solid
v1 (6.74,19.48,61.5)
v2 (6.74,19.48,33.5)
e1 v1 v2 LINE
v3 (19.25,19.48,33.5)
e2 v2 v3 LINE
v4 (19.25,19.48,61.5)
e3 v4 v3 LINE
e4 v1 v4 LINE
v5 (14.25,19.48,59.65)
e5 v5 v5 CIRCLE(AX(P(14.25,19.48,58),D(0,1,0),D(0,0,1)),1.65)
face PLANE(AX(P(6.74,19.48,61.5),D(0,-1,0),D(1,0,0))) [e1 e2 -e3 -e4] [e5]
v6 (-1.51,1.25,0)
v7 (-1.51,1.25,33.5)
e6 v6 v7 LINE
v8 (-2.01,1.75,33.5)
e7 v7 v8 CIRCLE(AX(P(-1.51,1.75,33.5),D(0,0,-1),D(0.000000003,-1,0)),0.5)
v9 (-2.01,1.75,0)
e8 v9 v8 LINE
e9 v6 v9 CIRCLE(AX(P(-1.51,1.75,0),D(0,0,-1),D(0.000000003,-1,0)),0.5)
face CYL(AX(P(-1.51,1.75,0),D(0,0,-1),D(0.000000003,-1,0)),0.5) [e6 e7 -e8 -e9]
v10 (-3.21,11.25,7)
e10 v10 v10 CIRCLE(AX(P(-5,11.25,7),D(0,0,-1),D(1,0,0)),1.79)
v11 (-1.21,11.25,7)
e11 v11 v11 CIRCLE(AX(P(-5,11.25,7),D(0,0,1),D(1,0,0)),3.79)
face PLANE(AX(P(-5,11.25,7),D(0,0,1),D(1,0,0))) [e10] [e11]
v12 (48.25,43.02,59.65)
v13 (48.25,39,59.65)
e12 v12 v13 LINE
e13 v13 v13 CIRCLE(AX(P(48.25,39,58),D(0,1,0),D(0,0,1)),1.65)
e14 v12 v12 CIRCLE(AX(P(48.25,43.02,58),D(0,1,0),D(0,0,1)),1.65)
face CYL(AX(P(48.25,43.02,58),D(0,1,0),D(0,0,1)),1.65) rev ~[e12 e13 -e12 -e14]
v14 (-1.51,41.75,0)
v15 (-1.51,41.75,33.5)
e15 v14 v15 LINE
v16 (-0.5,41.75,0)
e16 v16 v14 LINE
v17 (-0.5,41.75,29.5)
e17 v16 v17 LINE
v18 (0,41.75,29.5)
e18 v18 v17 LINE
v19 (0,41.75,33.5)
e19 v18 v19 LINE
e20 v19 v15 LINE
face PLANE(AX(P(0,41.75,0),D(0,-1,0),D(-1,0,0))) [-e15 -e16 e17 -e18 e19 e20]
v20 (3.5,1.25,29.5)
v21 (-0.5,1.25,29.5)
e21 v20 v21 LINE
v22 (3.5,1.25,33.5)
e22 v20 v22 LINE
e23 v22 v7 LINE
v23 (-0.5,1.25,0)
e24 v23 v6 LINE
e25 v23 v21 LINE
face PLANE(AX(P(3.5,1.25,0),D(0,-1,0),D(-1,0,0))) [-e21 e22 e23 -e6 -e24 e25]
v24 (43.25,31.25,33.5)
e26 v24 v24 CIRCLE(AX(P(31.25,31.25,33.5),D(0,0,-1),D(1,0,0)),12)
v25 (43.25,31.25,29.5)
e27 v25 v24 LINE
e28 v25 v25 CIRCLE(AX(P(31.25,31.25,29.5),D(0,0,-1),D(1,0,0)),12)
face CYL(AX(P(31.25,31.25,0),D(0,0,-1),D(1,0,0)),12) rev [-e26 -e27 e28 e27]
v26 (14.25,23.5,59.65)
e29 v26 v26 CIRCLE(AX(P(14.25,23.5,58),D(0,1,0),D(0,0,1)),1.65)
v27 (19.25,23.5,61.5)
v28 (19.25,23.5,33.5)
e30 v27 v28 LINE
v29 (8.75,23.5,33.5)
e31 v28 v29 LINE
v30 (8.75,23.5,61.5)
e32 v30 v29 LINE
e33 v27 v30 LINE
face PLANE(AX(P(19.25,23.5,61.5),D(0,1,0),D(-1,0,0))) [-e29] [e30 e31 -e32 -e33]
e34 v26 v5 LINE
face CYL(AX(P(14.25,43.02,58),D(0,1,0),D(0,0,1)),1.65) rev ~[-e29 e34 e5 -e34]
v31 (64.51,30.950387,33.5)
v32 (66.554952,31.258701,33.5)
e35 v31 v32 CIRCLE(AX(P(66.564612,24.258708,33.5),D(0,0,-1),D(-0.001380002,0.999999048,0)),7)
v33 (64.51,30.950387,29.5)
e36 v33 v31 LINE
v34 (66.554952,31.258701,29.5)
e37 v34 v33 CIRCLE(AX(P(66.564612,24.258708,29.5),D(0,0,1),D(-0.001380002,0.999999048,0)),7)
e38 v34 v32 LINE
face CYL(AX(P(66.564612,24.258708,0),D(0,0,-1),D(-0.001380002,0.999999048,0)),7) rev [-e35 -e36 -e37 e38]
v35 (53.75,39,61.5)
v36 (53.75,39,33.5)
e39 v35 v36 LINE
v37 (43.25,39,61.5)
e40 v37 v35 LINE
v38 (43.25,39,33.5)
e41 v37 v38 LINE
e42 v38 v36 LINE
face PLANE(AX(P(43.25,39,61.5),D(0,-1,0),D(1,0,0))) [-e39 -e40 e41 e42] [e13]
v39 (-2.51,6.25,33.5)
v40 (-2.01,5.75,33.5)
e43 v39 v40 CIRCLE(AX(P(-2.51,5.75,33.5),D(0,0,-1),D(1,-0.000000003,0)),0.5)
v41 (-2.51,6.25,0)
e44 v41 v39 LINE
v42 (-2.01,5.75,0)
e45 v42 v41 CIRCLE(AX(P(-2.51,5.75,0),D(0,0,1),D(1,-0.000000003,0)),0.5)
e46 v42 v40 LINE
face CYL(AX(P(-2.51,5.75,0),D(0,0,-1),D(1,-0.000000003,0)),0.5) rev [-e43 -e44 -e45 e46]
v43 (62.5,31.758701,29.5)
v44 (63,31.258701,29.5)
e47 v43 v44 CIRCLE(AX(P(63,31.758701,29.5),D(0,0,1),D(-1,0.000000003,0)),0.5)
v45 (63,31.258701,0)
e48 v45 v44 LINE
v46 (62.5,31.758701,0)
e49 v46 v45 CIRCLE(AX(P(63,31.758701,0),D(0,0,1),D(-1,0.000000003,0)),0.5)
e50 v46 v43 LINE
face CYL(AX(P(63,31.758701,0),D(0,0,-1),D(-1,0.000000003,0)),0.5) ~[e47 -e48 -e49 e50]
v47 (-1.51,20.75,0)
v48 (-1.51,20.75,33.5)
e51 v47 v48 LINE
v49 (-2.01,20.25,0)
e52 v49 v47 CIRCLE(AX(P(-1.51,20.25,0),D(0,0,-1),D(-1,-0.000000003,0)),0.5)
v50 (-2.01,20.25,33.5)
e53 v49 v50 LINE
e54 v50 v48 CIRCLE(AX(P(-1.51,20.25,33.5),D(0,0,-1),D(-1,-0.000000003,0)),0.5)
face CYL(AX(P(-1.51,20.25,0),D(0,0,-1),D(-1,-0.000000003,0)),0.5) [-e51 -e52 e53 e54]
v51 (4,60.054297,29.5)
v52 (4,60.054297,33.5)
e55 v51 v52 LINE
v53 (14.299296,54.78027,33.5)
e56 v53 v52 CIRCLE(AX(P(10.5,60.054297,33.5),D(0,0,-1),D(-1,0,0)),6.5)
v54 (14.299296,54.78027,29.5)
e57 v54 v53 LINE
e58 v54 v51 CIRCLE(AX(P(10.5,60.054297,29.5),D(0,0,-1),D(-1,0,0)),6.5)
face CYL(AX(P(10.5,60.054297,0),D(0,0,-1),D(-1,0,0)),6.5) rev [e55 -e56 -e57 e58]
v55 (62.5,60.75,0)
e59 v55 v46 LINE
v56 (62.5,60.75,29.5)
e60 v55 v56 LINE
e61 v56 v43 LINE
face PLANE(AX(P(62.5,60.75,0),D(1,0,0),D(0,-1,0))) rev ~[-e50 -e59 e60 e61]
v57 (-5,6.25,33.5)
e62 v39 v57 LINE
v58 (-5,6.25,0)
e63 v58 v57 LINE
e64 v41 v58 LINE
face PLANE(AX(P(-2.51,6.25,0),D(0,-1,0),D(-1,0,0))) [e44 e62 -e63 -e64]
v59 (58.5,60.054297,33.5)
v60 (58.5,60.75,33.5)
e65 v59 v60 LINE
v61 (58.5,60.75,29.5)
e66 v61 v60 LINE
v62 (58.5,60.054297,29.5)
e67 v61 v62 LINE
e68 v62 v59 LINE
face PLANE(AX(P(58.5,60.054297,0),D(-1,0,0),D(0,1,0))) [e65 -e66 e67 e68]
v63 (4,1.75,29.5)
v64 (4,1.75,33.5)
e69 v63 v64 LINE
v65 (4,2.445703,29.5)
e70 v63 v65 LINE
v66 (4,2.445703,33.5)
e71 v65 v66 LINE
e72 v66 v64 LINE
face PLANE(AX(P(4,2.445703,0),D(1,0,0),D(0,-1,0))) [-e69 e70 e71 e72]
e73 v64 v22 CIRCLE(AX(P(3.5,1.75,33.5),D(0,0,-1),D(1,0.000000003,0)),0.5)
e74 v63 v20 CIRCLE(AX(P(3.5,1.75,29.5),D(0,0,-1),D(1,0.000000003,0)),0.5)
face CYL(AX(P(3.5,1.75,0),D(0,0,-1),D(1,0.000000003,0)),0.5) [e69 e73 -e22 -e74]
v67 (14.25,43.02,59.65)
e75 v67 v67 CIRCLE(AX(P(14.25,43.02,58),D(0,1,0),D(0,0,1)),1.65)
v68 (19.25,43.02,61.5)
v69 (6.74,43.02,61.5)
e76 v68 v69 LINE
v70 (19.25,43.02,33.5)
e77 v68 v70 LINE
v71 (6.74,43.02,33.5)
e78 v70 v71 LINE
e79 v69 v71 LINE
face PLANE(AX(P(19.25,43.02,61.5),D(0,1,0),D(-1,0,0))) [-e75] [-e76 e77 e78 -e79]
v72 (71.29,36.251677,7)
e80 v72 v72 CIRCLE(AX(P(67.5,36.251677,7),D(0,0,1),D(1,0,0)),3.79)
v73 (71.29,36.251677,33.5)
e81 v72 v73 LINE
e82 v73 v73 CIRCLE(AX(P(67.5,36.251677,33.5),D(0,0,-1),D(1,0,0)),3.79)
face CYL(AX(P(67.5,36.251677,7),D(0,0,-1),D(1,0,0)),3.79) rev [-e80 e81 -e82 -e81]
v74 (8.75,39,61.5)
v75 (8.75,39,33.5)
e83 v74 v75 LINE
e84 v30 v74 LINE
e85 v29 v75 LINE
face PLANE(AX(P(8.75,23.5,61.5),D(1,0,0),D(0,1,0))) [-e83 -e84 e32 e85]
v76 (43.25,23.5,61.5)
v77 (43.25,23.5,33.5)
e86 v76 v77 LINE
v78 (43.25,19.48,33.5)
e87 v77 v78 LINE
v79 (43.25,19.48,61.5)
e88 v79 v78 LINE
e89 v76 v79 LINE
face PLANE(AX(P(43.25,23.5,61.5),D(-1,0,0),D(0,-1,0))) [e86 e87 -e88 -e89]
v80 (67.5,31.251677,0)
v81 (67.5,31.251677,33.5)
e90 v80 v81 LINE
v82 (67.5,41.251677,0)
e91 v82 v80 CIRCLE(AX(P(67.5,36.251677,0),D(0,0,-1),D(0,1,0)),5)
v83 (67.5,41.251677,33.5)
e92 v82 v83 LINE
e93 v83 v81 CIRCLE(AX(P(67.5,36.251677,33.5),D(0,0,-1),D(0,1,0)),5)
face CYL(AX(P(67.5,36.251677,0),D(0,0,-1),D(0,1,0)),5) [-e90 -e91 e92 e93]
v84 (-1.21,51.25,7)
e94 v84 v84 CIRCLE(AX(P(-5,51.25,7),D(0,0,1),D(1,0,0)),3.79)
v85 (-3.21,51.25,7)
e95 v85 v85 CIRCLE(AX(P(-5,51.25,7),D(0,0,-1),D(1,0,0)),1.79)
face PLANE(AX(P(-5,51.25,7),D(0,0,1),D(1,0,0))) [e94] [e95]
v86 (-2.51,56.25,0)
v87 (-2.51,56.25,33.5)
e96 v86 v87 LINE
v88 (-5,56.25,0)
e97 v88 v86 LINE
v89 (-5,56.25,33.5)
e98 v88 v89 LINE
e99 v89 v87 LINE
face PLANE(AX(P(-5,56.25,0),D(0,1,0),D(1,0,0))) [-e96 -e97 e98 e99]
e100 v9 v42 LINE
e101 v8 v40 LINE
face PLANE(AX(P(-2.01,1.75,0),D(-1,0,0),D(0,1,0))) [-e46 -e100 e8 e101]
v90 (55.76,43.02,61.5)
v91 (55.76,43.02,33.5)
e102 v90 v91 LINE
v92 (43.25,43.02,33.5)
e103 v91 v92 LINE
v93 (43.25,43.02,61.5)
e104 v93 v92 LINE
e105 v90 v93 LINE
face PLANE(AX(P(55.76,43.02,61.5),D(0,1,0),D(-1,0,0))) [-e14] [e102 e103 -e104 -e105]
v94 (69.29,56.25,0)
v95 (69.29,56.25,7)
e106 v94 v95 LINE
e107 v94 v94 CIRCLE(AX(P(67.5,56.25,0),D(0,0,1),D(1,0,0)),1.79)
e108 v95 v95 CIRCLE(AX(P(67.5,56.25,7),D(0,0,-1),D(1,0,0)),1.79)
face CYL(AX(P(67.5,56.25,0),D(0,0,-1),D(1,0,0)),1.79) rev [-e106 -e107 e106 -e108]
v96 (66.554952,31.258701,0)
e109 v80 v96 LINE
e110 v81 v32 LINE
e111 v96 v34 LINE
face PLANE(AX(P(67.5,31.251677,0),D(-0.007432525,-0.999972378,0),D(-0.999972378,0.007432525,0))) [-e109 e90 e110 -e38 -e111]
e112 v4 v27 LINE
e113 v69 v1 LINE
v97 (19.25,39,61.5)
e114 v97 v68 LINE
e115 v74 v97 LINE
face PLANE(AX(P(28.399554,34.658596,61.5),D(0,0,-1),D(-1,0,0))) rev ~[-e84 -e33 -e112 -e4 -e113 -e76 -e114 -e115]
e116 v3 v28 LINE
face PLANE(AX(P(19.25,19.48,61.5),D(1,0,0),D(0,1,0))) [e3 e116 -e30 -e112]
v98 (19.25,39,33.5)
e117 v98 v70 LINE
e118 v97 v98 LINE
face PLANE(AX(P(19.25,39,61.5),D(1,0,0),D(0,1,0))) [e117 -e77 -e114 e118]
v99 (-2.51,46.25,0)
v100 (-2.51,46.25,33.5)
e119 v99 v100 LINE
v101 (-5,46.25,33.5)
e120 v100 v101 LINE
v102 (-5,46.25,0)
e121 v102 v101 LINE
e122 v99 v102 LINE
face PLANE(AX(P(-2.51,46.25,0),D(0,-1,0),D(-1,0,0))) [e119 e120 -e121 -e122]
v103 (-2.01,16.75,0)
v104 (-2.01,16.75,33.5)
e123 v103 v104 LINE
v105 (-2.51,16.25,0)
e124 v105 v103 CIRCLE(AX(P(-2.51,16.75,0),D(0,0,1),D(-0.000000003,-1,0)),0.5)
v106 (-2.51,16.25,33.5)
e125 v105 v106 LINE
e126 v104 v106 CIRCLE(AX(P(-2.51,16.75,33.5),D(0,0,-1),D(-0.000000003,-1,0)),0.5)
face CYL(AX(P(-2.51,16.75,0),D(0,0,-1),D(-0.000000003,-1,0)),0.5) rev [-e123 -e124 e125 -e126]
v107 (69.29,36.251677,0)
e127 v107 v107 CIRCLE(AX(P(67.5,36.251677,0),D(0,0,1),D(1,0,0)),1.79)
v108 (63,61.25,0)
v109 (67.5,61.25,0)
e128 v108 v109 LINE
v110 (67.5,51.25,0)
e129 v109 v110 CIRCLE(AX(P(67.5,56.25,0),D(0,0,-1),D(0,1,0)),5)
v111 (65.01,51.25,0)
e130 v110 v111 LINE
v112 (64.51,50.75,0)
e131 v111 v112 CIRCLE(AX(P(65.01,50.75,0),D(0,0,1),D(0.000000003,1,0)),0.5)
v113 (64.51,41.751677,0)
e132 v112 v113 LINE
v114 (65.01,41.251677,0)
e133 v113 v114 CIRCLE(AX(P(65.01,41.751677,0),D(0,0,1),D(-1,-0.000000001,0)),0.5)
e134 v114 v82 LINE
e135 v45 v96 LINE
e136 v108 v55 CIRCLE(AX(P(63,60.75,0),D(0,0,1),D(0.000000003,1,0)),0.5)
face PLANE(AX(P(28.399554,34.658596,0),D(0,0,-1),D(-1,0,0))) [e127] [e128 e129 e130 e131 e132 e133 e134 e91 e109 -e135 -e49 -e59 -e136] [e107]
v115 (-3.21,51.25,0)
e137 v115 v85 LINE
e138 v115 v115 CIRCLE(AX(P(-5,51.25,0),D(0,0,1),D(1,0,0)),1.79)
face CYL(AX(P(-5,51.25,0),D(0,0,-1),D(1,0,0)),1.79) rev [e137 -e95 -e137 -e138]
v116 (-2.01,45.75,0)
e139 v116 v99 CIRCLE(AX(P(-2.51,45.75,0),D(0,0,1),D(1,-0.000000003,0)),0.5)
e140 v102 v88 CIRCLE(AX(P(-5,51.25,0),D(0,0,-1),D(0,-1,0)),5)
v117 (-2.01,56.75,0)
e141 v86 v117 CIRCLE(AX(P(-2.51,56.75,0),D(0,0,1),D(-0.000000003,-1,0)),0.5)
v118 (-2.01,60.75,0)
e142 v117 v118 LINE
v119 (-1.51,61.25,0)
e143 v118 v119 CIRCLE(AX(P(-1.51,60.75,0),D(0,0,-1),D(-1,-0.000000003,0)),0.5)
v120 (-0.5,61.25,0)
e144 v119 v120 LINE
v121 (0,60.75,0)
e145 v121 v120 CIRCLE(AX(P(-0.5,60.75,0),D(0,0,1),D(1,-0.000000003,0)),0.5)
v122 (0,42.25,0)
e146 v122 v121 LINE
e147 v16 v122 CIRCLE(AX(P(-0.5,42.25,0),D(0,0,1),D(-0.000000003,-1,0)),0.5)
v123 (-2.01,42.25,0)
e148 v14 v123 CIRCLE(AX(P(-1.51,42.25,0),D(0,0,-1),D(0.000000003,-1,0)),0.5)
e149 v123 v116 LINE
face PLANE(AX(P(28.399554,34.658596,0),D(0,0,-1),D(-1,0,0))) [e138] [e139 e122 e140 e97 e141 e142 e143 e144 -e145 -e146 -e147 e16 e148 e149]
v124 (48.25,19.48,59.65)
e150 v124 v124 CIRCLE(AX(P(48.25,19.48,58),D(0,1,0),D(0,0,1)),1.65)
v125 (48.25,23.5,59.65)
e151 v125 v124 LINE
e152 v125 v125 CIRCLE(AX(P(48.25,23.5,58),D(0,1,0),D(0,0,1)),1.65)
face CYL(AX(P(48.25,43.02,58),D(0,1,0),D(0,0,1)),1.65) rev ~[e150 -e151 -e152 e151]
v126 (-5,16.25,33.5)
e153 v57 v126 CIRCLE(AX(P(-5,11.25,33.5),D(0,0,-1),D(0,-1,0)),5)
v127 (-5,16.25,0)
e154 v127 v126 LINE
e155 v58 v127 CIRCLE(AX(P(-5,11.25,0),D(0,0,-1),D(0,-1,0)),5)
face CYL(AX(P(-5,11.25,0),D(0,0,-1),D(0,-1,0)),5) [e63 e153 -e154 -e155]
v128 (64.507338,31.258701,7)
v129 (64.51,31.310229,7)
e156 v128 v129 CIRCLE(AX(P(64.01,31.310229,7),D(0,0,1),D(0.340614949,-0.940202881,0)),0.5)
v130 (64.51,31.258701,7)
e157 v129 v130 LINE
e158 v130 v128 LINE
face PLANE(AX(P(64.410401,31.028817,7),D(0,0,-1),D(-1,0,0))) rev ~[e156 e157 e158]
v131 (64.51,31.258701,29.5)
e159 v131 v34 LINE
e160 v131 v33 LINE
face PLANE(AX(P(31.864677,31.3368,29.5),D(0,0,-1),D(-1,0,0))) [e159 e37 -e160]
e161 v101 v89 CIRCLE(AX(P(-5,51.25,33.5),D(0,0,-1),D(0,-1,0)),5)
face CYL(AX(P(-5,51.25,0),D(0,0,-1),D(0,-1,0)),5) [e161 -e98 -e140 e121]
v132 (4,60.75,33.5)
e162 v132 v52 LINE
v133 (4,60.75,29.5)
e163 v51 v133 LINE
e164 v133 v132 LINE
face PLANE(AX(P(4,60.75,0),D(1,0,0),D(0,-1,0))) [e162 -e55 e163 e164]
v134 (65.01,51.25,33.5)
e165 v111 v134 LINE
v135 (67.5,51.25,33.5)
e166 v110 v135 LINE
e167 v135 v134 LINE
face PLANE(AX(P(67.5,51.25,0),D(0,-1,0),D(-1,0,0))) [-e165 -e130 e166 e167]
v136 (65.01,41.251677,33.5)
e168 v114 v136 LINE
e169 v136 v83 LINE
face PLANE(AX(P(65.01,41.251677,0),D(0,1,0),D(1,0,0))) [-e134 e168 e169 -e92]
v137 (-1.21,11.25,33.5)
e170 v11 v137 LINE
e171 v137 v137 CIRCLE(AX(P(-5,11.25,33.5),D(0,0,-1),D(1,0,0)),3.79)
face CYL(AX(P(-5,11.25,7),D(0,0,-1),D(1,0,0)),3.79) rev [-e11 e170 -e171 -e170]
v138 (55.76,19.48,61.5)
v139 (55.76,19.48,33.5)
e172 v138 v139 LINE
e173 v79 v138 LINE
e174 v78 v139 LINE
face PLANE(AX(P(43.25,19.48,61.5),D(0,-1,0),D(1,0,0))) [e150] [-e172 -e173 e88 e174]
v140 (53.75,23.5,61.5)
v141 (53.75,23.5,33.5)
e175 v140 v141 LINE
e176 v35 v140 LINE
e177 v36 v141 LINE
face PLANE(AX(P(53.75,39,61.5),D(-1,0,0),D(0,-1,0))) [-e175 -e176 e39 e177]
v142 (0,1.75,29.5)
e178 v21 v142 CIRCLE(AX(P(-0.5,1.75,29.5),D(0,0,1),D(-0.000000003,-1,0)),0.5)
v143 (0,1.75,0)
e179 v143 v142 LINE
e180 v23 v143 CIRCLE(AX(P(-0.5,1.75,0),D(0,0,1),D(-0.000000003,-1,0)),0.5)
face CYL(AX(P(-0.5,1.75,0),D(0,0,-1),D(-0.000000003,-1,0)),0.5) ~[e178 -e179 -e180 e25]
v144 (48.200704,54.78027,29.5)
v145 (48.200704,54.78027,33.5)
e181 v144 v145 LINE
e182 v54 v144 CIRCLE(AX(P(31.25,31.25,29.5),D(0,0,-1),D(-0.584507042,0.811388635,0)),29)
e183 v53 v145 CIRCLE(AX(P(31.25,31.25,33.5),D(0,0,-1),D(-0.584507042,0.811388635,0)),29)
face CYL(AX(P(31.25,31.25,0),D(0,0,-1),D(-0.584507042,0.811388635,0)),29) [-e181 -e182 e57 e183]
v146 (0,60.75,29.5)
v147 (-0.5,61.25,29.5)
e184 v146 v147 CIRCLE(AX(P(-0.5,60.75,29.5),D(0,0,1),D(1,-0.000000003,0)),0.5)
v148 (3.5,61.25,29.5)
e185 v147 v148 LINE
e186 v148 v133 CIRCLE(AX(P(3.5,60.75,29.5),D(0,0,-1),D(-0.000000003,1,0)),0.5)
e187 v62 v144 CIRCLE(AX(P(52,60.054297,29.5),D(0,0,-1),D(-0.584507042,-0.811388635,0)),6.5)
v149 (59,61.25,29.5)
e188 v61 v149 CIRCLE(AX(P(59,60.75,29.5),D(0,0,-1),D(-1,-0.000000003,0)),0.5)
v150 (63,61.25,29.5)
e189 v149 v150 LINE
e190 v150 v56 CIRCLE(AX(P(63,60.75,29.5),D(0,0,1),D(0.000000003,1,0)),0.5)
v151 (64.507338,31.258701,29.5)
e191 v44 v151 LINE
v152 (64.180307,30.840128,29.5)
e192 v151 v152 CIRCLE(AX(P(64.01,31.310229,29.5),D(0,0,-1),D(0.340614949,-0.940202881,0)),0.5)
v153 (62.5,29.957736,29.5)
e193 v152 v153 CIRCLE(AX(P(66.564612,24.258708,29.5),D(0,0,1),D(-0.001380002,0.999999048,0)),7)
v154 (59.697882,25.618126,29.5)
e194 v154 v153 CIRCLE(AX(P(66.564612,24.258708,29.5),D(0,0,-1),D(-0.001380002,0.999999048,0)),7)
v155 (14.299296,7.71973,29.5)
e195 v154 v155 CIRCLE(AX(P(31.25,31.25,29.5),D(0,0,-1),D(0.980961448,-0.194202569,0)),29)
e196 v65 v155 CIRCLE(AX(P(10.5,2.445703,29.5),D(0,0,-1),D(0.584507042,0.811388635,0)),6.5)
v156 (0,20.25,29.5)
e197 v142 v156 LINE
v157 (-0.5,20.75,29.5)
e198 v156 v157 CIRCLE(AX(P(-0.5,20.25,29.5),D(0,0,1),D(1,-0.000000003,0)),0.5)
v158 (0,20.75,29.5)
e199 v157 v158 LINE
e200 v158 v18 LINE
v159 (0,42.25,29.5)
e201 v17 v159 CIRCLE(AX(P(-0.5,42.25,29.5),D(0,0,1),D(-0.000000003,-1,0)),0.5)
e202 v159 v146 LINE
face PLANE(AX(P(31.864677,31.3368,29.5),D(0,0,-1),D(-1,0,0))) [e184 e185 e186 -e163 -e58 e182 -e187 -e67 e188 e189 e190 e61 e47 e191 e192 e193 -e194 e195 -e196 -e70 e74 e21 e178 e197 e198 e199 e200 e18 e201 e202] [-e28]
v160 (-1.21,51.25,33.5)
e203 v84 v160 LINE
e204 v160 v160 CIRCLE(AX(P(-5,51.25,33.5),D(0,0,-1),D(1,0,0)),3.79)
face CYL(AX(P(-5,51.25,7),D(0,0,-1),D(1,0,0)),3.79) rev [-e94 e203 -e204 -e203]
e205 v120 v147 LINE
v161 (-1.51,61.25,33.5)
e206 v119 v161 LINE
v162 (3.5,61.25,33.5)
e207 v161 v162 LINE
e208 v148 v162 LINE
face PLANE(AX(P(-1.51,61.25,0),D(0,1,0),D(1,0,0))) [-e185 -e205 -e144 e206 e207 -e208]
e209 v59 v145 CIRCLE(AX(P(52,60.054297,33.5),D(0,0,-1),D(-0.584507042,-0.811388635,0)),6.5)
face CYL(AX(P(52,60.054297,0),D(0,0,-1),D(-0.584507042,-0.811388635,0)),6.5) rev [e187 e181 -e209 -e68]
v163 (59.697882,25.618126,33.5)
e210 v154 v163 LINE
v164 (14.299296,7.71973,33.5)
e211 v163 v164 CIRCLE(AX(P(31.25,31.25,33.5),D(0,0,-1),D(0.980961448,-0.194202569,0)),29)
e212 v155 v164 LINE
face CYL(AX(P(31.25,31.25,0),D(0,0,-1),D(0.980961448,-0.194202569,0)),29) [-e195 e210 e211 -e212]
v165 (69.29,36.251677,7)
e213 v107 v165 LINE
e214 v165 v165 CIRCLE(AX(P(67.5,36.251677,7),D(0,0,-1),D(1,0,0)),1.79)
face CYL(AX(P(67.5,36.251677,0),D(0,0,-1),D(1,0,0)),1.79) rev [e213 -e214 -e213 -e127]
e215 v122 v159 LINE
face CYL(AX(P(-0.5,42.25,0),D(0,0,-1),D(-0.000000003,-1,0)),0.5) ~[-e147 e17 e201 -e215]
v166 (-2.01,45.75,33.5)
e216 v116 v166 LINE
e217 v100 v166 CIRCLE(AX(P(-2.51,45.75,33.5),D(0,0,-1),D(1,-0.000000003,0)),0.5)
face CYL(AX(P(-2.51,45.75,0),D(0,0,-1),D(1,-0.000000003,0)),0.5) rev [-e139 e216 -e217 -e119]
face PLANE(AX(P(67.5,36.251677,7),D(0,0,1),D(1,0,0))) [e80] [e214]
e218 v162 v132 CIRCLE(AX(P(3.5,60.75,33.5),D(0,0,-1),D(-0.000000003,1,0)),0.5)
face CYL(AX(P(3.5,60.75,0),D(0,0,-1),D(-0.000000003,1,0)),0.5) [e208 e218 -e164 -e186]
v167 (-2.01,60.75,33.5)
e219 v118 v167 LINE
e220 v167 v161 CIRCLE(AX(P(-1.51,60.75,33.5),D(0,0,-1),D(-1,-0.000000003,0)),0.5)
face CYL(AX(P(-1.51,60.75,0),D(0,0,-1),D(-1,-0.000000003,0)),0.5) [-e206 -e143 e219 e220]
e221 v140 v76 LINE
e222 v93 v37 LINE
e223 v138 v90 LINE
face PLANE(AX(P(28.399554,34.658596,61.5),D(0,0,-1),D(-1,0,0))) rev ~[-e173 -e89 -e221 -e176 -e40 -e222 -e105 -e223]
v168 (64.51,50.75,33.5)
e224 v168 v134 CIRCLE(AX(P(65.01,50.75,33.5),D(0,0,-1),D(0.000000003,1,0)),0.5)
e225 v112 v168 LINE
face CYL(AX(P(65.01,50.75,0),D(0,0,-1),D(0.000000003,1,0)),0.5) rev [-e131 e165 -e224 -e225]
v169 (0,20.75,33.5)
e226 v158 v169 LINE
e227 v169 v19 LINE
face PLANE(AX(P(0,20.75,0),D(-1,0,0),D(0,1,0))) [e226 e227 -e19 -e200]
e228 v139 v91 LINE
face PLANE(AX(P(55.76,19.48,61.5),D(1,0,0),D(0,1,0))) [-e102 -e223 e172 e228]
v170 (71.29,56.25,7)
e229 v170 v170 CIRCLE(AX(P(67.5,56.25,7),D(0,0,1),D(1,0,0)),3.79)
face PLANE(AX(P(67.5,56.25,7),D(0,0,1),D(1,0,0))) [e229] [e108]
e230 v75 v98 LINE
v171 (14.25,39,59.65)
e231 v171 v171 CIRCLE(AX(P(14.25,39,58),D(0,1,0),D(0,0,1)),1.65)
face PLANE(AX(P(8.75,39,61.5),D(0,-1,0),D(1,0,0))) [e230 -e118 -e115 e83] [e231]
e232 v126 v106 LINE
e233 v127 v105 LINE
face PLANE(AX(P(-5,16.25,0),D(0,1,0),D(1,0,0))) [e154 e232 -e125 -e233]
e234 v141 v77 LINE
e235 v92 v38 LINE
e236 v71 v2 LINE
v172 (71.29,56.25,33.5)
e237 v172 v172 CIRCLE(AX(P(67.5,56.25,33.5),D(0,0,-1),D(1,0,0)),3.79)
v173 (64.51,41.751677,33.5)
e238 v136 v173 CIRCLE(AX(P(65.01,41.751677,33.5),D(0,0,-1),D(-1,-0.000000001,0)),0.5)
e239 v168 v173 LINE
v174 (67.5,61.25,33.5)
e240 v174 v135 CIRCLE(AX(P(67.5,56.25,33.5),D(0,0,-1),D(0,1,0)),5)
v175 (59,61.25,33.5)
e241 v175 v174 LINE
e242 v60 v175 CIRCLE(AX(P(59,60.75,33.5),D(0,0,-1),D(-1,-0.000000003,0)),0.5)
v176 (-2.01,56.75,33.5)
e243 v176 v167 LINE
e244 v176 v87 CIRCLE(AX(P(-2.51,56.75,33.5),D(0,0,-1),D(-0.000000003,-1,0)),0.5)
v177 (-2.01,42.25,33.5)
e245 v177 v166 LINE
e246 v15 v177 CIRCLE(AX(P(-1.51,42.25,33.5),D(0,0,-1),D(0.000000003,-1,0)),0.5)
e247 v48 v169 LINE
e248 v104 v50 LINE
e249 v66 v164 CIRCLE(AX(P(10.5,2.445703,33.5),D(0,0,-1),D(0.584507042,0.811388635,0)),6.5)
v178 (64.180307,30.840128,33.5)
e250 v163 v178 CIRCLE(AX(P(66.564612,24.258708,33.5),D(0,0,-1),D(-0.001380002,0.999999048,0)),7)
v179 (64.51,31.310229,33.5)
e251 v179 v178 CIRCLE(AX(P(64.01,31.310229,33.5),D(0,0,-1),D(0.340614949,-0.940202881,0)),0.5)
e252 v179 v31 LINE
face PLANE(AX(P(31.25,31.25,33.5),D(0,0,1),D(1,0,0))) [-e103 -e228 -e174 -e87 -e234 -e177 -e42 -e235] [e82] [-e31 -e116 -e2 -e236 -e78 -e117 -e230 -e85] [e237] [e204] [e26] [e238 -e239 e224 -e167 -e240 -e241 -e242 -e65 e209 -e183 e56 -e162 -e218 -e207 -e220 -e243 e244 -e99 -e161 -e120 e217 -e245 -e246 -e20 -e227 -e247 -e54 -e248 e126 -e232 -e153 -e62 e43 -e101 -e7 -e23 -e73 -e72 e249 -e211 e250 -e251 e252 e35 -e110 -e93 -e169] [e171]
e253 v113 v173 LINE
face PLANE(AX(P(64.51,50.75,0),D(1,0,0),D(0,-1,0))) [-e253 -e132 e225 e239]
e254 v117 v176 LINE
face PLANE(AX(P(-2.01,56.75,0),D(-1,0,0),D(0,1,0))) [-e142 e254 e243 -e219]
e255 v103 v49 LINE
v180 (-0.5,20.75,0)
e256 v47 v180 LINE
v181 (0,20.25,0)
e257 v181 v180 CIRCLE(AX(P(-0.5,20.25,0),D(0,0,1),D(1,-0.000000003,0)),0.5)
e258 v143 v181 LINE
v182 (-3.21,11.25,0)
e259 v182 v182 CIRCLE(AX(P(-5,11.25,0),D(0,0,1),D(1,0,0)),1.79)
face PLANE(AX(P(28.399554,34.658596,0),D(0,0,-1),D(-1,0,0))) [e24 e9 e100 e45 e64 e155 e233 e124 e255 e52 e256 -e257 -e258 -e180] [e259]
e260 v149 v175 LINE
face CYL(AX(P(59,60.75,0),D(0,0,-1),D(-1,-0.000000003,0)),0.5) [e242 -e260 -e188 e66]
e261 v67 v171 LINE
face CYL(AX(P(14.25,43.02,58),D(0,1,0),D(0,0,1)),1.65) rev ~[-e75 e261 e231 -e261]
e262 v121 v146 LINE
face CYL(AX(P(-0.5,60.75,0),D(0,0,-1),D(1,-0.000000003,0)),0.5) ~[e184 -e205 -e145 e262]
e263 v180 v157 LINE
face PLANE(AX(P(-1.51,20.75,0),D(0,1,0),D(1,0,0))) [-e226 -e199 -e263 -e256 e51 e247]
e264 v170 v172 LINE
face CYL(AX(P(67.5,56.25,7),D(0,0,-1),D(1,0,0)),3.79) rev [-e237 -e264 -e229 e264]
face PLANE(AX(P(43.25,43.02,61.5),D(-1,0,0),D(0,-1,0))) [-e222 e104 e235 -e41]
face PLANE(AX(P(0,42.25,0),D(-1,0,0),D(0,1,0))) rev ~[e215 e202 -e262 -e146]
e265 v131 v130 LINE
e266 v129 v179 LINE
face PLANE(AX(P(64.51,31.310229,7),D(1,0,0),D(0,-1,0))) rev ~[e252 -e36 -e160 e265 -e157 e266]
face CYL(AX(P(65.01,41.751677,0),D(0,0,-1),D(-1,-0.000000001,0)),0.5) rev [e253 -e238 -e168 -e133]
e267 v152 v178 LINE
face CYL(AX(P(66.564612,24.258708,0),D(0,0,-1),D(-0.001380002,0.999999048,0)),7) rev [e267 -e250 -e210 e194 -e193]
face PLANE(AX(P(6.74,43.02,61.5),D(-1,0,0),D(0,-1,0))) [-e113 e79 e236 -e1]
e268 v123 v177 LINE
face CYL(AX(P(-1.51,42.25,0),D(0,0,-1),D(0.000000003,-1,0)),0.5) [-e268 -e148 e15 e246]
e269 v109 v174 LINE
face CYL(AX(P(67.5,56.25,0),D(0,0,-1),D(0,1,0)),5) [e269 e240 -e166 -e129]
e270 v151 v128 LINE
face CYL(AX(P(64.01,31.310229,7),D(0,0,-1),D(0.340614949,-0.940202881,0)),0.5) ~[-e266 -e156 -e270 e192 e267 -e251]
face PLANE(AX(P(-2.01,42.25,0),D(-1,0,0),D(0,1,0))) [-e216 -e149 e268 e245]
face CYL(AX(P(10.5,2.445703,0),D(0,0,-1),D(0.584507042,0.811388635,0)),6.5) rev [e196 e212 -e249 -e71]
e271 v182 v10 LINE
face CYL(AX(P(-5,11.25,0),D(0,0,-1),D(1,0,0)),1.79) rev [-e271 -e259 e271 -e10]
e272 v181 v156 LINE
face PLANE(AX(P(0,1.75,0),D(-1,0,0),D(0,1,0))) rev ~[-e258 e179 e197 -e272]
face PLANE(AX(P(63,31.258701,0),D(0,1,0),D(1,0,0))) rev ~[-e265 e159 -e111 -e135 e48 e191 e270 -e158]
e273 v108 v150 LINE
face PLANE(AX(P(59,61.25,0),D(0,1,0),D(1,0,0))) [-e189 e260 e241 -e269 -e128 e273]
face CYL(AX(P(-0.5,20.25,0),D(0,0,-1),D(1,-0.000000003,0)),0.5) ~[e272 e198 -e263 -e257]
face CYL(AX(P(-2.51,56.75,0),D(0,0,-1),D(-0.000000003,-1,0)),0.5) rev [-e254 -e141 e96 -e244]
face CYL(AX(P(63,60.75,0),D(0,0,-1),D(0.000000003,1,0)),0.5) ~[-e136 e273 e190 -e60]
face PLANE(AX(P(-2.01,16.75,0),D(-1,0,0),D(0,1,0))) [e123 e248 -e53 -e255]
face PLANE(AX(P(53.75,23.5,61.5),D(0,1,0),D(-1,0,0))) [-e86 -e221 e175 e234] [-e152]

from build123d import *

# Parameters (mm, degrees)
SKETCH1_R           = 1.79
SKETCH1_R_2         = 12
BOSS_EXTRUDE1_DEPTH = 61.5
CUT_EXTRUDE1_DEPTH  = 29.5
CUT_EXTRUDE2_START  = -54.5
SKETCH3_R           = 3.79
CUT_EXTRUDE2_DEPTH  = 54.5
SKETCH4_OUTSIDE_W   = 108.324
SKETCH4_OUTSIDE_H   = 85.824
CUT_EXTRUDE3_DEPTH  = 28
CUT_EXTRUDE4_REACH  = 105.842
SKETCH5_R           = 1.65


with BuildPart() as part:
    # Sketch1 → Boss-Extrude1 (new body)
    with BuildSketch(Plane.XY):
        with BuildLine():
            Line((-5, 56.25), (-2.51, 56.25))
            ThreePointArc((-2.51, 56.25), (-2.156446609, 56.396446609), (-2.01, 56.75))
            Line((-2.01, 56.75), (-2.01, 60.75))
            ThreePointArc((-2.01, 60.75), (-1.863553391, 61.103553391), (-1.51, 61.25))
            Line((-1.51, 61.25), (3.5, 61.25))
            ThreePointArc((3.5, 61.25), (3.853553391, 61.103553391), (4, 60.75))
            Line((4, 60.75), (4, 60.054296555))
            ThreePointArc((4, 60.054296555), (7.537351062, 54.268735971), (14.299295775, 54.780270425))
            ThreePointArc((14.299295775, 54.780270425), (31.25, 60.25), (48.200704225, 54.780270425))
            ThreePointArc((48.200704225, 54.780270425), (54.962648938, 54.268735971), (58.5, 60.054296555))
            Line((58.5, 60.054296555), (58.5, 60.75))
            ThreePointArc((58.5, 60.75), (58.646446609, 61.103553391), (59, 61.25))
            Line((59, 61.25), (67.5, 61.25))
            ThreePointArc((67.5, 61.25), (72.5, 56.25), (67.5, 51.25))
            Line((67.5, 51.25), (65.01, 51.25))
            ThreePointArc((65.01, 51.25), (64.656446609, 51.103553391), (64.51, 50.75))
            Line((64.51, 50.75), (64.51, 41.751676566))
            ThreePointArc((64.51, 41.751676566), (64.656446609, 41.398123176), (65.01, 41.251676566))
            Line((65.01, 41.251676566), (67.5, 41.251676566))
            ThreePointArc((67.5, 41.251676566), (72.5, 36.251676566), (67.5, 31.251676566))
            Line((67.5, 31.251676566), (66.554952113, 31.258700852))
            ThreePointArc((66.554952113, 31.258700852), (62.117679705, 29.664703454), (59.697881988, 25.6181255))
            ThreePointArc((59.697881988, 25.6181255), (41.886466439, 4.271015925), (14.299295775, 7.719729575))
            ThreePointArc((14.299295775, 7.719729575), (7.537351062, 8.231264029), (4, 2.445703445))
            Line((4, 2.445703445), (4, 1.75))
            ThreePointArc((4, 1.75), (3.853553391, 1.396446609), (3.5, 1.25))
            Line((3.5, 1.25), (-1.51, 1.25))
            ThreePointArc((-1.51, 1.25), (-1.863553391, 1.396446609), (-2.01, 1.75))
            Line((-2.01, 1.75), (-2.01, 5.75))
            ThreePointArc((-2.01, 5.75), (-2.156446609, 6.103553391), (-2.51, 6.25))
            Line((-2.51, 6.25), (-5, 6.25))
            ThreePointArc((-5, 6.25), (-10, 11.25), (-5, 16.25))
            Line((-5, 16.25), (-2.51, 16.25))
            ThreePointArc((-2.51, 16.25), (-2.156446609, 16.396446609), (-2.01, 16.75))
            Line((-2.01, 16.75), (-2.01, 20.25))
            ThreePointArc((-2.01, 20.25), (-1.863553391, 20.603553391), (-1.51, 20.75))
            Line((-1.51, 20.75), (0, 20.75))
            Line((0, 20.75), (0, 41.75))
            Line((0, 41.75), (-1.51, 41.75))
            ThreePointArc((-1.51, 41.75), (-1.863553391, 41.896446609), (-2.01, 42.25))
            Line((-2.01, 42.25), (-2.01, 45.75))
            ThreePointArc((-2.01, 45.75), (-2.156446609, 46.103553391), (-2.51, 46.25))
            Line((-2.51, 46.25), (-5, 46.25))
            ThreePointArc((-5, 46.25), (-10, 51.25), (-5, 56.25))
        make_face()
        with Locations((-5, 51.25)):
            Circle(SKETCH1_R, mode=Mode.SUBTRACT)
        with Locations((-5, 11.25)):
            Circle(SKETCH1_R, mode=Mode.SUBTRACT)
        with Locations((67.5, 36.251676566)):
            Circle(SKETCH1_R, mode=Mode.SUBTRACT)
        with Locations((31.25, 31.25)):
            Circle(SKETCH1_R_2, mode=Mode.SUBTRACT)
        with Locations((67.5, 56.25)):
            Circle(SKETCH1_R, mode=Mode.SUBTRACT)
    extrude(amount=BOSS_EXTRUDE1_DEPTH)

    # Sketch2 → Cut-Extrude1 (cut)
    with BuildSketch(Plane.XY):
        with BuildLine():
            Line((0, 1.75), (0, 20.25))
            ThreePointArc((0, 20.25), (-0.146446609, 20.603553391), (-0.5, 20.75))
            Line((-0.5, 20.75), (0, 20.75))
            Line((0, 20.75), (0, 41.75))
            Line((0, 41.75), (-0.5, 41.75))
            ThreePointArc((-0.5, 41.75), (-0.146446609, 41.896446609), (0, 42.25))
            Line((0, 42.25), (0, 60.75))
            ThreePointArc((0, 60.75), (-0.146446609, 61.103553391), (-0.5, 61.25))
            Line((-0.5, 61.25), (0, 61.25))
            Line((0, 61.25), (62.5, 61.25))
            Line((62.5, 61.25), (63, 61.25))
            ThreePointArc((63, 61.25), (62.646446609, 61.103553391), (62.5, 60.75))
            Line((62.5, 60.75), (62.5, 31.758700852))
            ThreePointArc((62.5, 31.758700852), (62.646446609, 31.405147461), (63, 31.258700852))
            Line((63, 31.258700852), (66.554952113, 31.258700852))
            ThreePointArc((66.554952113, 31.258700852), (64.426142906, 30.924061927), (62.5, 29.957736232))
            Line((62.5, 29.957736232), (62.5, 1.25))
            Line((62.5, 1.25), (0, 1.25))
            Line((0, 1.25), (-0.5, 1.25))
            ThreePointArc((-0.5, 1.25), (-0.146446609, 1.396446609), (0, 1.75))
        make_face()
    extrude(amount=CUT_EXTRUDE1_DEPTH, mode=Mode.SUBTRACT)

    # Sketch3 → Cut-Extrude2 (cut)
    with BuildSketch(Plane.XY.offset(61.5).offset(CUT_EXTRUDE2_START)):
        with Locations((67.5, 36.251676566)):
            Circle(SKETCH3_R)
        with Locations((-5, 11.25)):
            Circle(SKETCH3_R)
        with Locations((-5, 51.25)):
            Circle(SKETCH3_R)
        with Locations((67.5, 56.25)):
            Circle(SKETCH3_R)
        with BuildLine():
            Line((64.51, 31.310229119), (64.51, 30.950386606))
            ThreePointArc((64.51, 30.950386606), (64.344469158, 30.897304147), (64.180307475, 30.840127679))
            ThreePointArc((64.180307475, 30.840127679), (64.419361538, 31.023134829), (64.51, 31.310229119))
        make_face()
    extrude(amount=CUT_EXTRUDE2_DEPTH, mode=Mode.SUBTRACT)

    # Sketch4 outside → Cut-Extrude3 (cut)
    with BuildSketch(Plane.XY.offset(61.5)):
        with Locations((31.25, 31.25)):
            Rectangle(SKETCH4_OUTSIDE_W, SKETCH4_OUTSIDE_H)
        Polygon((19.25, 43.02), (6.74, 43.02), (6.74, 19.48), (19.25, 19.48), (19.25, 23.5), (8.75, 23.5), (8.75, 39), (19.25, 39), align=None, mode=Mode.SUBTRACT)
        Polygon((43.25, 19.48), (55.76, 19.48), (55.76, 43.02), (43.25, 43.02), (43.25, 39), (53.75, 39), (53.75, 23.5), (43.25, 23.5), align=None, mode=Mode.SUBTRACT)
    extrude(amount=-CUT_EXTRUDE3_DEPTH, mode=Mode.SUBTRACT)

    # Cut-Extrude4: up to this face of the body (flat: up to its plane)
    cut_extrude4_end = Plane(part.part.faces().sort_by_distance((12.995, 19.48, 47.5))[0])
    # Sketch5 → Cut-Extrude4 (cut, up to the picked face)
    with BuildSketch(Plane(origin=(0, 43.02, 0), x_dir=(1, 0, 0), z_dir=(0, 1, 0)), mode=Mode.PRIVATE) as cut_extrude4_sk1:
        with Locations(Location((48.25, -58, 0), (0, 0, 270))):
            Circle(SKETCH5_R)
    cut_extrude4_tool1 = split(extrude(cut_extrude4_sk1.sketch, amount=-CUT_EXTRUDE4_REACH, mode=Mode.PRIVATE), bisect_by=cut_extrude4_end, keep=Keep.BOTH, mode=Mode.PRIVATE)
    # Sketch5 → Cut-Extrude4 (cut, up to the picked face)
    with BuildSketch(Plane(origin=(0, 43.02, 0), x_dir=(1, 0, 0), z_dir=(0, 1, 0)), mode=Mode.PRIVATE) as cut_extrude4_sk2:
        with Locations(Location((14.25, -58, 0), (0, 0, 270))):
            Circle(SKETCH5_R)
    cut_extrude4_tool2 = split(extrude(cut_extrude4_sk2.sketch, amount=-CUT_EXTRUDE4_REACH, mode=Mode.PRIVATE), bisect_by=cut_extrude4_end, keep=Keep.BOTH, mode=Mode.PRIVATE)
    add(cut_extrude4_tool1.solids().sort_by(Axis((48.25, 43.02, 58), (0, -1, 0)))[0], mode=Mode.SUBTRACT)
    add(cut_extrude4_tool2.solids().sort_by(Axis((14.25, 43.02, 58), (0, -1, 0)))[0], mode=Mode.SUBTRACT)


solid = part.part
